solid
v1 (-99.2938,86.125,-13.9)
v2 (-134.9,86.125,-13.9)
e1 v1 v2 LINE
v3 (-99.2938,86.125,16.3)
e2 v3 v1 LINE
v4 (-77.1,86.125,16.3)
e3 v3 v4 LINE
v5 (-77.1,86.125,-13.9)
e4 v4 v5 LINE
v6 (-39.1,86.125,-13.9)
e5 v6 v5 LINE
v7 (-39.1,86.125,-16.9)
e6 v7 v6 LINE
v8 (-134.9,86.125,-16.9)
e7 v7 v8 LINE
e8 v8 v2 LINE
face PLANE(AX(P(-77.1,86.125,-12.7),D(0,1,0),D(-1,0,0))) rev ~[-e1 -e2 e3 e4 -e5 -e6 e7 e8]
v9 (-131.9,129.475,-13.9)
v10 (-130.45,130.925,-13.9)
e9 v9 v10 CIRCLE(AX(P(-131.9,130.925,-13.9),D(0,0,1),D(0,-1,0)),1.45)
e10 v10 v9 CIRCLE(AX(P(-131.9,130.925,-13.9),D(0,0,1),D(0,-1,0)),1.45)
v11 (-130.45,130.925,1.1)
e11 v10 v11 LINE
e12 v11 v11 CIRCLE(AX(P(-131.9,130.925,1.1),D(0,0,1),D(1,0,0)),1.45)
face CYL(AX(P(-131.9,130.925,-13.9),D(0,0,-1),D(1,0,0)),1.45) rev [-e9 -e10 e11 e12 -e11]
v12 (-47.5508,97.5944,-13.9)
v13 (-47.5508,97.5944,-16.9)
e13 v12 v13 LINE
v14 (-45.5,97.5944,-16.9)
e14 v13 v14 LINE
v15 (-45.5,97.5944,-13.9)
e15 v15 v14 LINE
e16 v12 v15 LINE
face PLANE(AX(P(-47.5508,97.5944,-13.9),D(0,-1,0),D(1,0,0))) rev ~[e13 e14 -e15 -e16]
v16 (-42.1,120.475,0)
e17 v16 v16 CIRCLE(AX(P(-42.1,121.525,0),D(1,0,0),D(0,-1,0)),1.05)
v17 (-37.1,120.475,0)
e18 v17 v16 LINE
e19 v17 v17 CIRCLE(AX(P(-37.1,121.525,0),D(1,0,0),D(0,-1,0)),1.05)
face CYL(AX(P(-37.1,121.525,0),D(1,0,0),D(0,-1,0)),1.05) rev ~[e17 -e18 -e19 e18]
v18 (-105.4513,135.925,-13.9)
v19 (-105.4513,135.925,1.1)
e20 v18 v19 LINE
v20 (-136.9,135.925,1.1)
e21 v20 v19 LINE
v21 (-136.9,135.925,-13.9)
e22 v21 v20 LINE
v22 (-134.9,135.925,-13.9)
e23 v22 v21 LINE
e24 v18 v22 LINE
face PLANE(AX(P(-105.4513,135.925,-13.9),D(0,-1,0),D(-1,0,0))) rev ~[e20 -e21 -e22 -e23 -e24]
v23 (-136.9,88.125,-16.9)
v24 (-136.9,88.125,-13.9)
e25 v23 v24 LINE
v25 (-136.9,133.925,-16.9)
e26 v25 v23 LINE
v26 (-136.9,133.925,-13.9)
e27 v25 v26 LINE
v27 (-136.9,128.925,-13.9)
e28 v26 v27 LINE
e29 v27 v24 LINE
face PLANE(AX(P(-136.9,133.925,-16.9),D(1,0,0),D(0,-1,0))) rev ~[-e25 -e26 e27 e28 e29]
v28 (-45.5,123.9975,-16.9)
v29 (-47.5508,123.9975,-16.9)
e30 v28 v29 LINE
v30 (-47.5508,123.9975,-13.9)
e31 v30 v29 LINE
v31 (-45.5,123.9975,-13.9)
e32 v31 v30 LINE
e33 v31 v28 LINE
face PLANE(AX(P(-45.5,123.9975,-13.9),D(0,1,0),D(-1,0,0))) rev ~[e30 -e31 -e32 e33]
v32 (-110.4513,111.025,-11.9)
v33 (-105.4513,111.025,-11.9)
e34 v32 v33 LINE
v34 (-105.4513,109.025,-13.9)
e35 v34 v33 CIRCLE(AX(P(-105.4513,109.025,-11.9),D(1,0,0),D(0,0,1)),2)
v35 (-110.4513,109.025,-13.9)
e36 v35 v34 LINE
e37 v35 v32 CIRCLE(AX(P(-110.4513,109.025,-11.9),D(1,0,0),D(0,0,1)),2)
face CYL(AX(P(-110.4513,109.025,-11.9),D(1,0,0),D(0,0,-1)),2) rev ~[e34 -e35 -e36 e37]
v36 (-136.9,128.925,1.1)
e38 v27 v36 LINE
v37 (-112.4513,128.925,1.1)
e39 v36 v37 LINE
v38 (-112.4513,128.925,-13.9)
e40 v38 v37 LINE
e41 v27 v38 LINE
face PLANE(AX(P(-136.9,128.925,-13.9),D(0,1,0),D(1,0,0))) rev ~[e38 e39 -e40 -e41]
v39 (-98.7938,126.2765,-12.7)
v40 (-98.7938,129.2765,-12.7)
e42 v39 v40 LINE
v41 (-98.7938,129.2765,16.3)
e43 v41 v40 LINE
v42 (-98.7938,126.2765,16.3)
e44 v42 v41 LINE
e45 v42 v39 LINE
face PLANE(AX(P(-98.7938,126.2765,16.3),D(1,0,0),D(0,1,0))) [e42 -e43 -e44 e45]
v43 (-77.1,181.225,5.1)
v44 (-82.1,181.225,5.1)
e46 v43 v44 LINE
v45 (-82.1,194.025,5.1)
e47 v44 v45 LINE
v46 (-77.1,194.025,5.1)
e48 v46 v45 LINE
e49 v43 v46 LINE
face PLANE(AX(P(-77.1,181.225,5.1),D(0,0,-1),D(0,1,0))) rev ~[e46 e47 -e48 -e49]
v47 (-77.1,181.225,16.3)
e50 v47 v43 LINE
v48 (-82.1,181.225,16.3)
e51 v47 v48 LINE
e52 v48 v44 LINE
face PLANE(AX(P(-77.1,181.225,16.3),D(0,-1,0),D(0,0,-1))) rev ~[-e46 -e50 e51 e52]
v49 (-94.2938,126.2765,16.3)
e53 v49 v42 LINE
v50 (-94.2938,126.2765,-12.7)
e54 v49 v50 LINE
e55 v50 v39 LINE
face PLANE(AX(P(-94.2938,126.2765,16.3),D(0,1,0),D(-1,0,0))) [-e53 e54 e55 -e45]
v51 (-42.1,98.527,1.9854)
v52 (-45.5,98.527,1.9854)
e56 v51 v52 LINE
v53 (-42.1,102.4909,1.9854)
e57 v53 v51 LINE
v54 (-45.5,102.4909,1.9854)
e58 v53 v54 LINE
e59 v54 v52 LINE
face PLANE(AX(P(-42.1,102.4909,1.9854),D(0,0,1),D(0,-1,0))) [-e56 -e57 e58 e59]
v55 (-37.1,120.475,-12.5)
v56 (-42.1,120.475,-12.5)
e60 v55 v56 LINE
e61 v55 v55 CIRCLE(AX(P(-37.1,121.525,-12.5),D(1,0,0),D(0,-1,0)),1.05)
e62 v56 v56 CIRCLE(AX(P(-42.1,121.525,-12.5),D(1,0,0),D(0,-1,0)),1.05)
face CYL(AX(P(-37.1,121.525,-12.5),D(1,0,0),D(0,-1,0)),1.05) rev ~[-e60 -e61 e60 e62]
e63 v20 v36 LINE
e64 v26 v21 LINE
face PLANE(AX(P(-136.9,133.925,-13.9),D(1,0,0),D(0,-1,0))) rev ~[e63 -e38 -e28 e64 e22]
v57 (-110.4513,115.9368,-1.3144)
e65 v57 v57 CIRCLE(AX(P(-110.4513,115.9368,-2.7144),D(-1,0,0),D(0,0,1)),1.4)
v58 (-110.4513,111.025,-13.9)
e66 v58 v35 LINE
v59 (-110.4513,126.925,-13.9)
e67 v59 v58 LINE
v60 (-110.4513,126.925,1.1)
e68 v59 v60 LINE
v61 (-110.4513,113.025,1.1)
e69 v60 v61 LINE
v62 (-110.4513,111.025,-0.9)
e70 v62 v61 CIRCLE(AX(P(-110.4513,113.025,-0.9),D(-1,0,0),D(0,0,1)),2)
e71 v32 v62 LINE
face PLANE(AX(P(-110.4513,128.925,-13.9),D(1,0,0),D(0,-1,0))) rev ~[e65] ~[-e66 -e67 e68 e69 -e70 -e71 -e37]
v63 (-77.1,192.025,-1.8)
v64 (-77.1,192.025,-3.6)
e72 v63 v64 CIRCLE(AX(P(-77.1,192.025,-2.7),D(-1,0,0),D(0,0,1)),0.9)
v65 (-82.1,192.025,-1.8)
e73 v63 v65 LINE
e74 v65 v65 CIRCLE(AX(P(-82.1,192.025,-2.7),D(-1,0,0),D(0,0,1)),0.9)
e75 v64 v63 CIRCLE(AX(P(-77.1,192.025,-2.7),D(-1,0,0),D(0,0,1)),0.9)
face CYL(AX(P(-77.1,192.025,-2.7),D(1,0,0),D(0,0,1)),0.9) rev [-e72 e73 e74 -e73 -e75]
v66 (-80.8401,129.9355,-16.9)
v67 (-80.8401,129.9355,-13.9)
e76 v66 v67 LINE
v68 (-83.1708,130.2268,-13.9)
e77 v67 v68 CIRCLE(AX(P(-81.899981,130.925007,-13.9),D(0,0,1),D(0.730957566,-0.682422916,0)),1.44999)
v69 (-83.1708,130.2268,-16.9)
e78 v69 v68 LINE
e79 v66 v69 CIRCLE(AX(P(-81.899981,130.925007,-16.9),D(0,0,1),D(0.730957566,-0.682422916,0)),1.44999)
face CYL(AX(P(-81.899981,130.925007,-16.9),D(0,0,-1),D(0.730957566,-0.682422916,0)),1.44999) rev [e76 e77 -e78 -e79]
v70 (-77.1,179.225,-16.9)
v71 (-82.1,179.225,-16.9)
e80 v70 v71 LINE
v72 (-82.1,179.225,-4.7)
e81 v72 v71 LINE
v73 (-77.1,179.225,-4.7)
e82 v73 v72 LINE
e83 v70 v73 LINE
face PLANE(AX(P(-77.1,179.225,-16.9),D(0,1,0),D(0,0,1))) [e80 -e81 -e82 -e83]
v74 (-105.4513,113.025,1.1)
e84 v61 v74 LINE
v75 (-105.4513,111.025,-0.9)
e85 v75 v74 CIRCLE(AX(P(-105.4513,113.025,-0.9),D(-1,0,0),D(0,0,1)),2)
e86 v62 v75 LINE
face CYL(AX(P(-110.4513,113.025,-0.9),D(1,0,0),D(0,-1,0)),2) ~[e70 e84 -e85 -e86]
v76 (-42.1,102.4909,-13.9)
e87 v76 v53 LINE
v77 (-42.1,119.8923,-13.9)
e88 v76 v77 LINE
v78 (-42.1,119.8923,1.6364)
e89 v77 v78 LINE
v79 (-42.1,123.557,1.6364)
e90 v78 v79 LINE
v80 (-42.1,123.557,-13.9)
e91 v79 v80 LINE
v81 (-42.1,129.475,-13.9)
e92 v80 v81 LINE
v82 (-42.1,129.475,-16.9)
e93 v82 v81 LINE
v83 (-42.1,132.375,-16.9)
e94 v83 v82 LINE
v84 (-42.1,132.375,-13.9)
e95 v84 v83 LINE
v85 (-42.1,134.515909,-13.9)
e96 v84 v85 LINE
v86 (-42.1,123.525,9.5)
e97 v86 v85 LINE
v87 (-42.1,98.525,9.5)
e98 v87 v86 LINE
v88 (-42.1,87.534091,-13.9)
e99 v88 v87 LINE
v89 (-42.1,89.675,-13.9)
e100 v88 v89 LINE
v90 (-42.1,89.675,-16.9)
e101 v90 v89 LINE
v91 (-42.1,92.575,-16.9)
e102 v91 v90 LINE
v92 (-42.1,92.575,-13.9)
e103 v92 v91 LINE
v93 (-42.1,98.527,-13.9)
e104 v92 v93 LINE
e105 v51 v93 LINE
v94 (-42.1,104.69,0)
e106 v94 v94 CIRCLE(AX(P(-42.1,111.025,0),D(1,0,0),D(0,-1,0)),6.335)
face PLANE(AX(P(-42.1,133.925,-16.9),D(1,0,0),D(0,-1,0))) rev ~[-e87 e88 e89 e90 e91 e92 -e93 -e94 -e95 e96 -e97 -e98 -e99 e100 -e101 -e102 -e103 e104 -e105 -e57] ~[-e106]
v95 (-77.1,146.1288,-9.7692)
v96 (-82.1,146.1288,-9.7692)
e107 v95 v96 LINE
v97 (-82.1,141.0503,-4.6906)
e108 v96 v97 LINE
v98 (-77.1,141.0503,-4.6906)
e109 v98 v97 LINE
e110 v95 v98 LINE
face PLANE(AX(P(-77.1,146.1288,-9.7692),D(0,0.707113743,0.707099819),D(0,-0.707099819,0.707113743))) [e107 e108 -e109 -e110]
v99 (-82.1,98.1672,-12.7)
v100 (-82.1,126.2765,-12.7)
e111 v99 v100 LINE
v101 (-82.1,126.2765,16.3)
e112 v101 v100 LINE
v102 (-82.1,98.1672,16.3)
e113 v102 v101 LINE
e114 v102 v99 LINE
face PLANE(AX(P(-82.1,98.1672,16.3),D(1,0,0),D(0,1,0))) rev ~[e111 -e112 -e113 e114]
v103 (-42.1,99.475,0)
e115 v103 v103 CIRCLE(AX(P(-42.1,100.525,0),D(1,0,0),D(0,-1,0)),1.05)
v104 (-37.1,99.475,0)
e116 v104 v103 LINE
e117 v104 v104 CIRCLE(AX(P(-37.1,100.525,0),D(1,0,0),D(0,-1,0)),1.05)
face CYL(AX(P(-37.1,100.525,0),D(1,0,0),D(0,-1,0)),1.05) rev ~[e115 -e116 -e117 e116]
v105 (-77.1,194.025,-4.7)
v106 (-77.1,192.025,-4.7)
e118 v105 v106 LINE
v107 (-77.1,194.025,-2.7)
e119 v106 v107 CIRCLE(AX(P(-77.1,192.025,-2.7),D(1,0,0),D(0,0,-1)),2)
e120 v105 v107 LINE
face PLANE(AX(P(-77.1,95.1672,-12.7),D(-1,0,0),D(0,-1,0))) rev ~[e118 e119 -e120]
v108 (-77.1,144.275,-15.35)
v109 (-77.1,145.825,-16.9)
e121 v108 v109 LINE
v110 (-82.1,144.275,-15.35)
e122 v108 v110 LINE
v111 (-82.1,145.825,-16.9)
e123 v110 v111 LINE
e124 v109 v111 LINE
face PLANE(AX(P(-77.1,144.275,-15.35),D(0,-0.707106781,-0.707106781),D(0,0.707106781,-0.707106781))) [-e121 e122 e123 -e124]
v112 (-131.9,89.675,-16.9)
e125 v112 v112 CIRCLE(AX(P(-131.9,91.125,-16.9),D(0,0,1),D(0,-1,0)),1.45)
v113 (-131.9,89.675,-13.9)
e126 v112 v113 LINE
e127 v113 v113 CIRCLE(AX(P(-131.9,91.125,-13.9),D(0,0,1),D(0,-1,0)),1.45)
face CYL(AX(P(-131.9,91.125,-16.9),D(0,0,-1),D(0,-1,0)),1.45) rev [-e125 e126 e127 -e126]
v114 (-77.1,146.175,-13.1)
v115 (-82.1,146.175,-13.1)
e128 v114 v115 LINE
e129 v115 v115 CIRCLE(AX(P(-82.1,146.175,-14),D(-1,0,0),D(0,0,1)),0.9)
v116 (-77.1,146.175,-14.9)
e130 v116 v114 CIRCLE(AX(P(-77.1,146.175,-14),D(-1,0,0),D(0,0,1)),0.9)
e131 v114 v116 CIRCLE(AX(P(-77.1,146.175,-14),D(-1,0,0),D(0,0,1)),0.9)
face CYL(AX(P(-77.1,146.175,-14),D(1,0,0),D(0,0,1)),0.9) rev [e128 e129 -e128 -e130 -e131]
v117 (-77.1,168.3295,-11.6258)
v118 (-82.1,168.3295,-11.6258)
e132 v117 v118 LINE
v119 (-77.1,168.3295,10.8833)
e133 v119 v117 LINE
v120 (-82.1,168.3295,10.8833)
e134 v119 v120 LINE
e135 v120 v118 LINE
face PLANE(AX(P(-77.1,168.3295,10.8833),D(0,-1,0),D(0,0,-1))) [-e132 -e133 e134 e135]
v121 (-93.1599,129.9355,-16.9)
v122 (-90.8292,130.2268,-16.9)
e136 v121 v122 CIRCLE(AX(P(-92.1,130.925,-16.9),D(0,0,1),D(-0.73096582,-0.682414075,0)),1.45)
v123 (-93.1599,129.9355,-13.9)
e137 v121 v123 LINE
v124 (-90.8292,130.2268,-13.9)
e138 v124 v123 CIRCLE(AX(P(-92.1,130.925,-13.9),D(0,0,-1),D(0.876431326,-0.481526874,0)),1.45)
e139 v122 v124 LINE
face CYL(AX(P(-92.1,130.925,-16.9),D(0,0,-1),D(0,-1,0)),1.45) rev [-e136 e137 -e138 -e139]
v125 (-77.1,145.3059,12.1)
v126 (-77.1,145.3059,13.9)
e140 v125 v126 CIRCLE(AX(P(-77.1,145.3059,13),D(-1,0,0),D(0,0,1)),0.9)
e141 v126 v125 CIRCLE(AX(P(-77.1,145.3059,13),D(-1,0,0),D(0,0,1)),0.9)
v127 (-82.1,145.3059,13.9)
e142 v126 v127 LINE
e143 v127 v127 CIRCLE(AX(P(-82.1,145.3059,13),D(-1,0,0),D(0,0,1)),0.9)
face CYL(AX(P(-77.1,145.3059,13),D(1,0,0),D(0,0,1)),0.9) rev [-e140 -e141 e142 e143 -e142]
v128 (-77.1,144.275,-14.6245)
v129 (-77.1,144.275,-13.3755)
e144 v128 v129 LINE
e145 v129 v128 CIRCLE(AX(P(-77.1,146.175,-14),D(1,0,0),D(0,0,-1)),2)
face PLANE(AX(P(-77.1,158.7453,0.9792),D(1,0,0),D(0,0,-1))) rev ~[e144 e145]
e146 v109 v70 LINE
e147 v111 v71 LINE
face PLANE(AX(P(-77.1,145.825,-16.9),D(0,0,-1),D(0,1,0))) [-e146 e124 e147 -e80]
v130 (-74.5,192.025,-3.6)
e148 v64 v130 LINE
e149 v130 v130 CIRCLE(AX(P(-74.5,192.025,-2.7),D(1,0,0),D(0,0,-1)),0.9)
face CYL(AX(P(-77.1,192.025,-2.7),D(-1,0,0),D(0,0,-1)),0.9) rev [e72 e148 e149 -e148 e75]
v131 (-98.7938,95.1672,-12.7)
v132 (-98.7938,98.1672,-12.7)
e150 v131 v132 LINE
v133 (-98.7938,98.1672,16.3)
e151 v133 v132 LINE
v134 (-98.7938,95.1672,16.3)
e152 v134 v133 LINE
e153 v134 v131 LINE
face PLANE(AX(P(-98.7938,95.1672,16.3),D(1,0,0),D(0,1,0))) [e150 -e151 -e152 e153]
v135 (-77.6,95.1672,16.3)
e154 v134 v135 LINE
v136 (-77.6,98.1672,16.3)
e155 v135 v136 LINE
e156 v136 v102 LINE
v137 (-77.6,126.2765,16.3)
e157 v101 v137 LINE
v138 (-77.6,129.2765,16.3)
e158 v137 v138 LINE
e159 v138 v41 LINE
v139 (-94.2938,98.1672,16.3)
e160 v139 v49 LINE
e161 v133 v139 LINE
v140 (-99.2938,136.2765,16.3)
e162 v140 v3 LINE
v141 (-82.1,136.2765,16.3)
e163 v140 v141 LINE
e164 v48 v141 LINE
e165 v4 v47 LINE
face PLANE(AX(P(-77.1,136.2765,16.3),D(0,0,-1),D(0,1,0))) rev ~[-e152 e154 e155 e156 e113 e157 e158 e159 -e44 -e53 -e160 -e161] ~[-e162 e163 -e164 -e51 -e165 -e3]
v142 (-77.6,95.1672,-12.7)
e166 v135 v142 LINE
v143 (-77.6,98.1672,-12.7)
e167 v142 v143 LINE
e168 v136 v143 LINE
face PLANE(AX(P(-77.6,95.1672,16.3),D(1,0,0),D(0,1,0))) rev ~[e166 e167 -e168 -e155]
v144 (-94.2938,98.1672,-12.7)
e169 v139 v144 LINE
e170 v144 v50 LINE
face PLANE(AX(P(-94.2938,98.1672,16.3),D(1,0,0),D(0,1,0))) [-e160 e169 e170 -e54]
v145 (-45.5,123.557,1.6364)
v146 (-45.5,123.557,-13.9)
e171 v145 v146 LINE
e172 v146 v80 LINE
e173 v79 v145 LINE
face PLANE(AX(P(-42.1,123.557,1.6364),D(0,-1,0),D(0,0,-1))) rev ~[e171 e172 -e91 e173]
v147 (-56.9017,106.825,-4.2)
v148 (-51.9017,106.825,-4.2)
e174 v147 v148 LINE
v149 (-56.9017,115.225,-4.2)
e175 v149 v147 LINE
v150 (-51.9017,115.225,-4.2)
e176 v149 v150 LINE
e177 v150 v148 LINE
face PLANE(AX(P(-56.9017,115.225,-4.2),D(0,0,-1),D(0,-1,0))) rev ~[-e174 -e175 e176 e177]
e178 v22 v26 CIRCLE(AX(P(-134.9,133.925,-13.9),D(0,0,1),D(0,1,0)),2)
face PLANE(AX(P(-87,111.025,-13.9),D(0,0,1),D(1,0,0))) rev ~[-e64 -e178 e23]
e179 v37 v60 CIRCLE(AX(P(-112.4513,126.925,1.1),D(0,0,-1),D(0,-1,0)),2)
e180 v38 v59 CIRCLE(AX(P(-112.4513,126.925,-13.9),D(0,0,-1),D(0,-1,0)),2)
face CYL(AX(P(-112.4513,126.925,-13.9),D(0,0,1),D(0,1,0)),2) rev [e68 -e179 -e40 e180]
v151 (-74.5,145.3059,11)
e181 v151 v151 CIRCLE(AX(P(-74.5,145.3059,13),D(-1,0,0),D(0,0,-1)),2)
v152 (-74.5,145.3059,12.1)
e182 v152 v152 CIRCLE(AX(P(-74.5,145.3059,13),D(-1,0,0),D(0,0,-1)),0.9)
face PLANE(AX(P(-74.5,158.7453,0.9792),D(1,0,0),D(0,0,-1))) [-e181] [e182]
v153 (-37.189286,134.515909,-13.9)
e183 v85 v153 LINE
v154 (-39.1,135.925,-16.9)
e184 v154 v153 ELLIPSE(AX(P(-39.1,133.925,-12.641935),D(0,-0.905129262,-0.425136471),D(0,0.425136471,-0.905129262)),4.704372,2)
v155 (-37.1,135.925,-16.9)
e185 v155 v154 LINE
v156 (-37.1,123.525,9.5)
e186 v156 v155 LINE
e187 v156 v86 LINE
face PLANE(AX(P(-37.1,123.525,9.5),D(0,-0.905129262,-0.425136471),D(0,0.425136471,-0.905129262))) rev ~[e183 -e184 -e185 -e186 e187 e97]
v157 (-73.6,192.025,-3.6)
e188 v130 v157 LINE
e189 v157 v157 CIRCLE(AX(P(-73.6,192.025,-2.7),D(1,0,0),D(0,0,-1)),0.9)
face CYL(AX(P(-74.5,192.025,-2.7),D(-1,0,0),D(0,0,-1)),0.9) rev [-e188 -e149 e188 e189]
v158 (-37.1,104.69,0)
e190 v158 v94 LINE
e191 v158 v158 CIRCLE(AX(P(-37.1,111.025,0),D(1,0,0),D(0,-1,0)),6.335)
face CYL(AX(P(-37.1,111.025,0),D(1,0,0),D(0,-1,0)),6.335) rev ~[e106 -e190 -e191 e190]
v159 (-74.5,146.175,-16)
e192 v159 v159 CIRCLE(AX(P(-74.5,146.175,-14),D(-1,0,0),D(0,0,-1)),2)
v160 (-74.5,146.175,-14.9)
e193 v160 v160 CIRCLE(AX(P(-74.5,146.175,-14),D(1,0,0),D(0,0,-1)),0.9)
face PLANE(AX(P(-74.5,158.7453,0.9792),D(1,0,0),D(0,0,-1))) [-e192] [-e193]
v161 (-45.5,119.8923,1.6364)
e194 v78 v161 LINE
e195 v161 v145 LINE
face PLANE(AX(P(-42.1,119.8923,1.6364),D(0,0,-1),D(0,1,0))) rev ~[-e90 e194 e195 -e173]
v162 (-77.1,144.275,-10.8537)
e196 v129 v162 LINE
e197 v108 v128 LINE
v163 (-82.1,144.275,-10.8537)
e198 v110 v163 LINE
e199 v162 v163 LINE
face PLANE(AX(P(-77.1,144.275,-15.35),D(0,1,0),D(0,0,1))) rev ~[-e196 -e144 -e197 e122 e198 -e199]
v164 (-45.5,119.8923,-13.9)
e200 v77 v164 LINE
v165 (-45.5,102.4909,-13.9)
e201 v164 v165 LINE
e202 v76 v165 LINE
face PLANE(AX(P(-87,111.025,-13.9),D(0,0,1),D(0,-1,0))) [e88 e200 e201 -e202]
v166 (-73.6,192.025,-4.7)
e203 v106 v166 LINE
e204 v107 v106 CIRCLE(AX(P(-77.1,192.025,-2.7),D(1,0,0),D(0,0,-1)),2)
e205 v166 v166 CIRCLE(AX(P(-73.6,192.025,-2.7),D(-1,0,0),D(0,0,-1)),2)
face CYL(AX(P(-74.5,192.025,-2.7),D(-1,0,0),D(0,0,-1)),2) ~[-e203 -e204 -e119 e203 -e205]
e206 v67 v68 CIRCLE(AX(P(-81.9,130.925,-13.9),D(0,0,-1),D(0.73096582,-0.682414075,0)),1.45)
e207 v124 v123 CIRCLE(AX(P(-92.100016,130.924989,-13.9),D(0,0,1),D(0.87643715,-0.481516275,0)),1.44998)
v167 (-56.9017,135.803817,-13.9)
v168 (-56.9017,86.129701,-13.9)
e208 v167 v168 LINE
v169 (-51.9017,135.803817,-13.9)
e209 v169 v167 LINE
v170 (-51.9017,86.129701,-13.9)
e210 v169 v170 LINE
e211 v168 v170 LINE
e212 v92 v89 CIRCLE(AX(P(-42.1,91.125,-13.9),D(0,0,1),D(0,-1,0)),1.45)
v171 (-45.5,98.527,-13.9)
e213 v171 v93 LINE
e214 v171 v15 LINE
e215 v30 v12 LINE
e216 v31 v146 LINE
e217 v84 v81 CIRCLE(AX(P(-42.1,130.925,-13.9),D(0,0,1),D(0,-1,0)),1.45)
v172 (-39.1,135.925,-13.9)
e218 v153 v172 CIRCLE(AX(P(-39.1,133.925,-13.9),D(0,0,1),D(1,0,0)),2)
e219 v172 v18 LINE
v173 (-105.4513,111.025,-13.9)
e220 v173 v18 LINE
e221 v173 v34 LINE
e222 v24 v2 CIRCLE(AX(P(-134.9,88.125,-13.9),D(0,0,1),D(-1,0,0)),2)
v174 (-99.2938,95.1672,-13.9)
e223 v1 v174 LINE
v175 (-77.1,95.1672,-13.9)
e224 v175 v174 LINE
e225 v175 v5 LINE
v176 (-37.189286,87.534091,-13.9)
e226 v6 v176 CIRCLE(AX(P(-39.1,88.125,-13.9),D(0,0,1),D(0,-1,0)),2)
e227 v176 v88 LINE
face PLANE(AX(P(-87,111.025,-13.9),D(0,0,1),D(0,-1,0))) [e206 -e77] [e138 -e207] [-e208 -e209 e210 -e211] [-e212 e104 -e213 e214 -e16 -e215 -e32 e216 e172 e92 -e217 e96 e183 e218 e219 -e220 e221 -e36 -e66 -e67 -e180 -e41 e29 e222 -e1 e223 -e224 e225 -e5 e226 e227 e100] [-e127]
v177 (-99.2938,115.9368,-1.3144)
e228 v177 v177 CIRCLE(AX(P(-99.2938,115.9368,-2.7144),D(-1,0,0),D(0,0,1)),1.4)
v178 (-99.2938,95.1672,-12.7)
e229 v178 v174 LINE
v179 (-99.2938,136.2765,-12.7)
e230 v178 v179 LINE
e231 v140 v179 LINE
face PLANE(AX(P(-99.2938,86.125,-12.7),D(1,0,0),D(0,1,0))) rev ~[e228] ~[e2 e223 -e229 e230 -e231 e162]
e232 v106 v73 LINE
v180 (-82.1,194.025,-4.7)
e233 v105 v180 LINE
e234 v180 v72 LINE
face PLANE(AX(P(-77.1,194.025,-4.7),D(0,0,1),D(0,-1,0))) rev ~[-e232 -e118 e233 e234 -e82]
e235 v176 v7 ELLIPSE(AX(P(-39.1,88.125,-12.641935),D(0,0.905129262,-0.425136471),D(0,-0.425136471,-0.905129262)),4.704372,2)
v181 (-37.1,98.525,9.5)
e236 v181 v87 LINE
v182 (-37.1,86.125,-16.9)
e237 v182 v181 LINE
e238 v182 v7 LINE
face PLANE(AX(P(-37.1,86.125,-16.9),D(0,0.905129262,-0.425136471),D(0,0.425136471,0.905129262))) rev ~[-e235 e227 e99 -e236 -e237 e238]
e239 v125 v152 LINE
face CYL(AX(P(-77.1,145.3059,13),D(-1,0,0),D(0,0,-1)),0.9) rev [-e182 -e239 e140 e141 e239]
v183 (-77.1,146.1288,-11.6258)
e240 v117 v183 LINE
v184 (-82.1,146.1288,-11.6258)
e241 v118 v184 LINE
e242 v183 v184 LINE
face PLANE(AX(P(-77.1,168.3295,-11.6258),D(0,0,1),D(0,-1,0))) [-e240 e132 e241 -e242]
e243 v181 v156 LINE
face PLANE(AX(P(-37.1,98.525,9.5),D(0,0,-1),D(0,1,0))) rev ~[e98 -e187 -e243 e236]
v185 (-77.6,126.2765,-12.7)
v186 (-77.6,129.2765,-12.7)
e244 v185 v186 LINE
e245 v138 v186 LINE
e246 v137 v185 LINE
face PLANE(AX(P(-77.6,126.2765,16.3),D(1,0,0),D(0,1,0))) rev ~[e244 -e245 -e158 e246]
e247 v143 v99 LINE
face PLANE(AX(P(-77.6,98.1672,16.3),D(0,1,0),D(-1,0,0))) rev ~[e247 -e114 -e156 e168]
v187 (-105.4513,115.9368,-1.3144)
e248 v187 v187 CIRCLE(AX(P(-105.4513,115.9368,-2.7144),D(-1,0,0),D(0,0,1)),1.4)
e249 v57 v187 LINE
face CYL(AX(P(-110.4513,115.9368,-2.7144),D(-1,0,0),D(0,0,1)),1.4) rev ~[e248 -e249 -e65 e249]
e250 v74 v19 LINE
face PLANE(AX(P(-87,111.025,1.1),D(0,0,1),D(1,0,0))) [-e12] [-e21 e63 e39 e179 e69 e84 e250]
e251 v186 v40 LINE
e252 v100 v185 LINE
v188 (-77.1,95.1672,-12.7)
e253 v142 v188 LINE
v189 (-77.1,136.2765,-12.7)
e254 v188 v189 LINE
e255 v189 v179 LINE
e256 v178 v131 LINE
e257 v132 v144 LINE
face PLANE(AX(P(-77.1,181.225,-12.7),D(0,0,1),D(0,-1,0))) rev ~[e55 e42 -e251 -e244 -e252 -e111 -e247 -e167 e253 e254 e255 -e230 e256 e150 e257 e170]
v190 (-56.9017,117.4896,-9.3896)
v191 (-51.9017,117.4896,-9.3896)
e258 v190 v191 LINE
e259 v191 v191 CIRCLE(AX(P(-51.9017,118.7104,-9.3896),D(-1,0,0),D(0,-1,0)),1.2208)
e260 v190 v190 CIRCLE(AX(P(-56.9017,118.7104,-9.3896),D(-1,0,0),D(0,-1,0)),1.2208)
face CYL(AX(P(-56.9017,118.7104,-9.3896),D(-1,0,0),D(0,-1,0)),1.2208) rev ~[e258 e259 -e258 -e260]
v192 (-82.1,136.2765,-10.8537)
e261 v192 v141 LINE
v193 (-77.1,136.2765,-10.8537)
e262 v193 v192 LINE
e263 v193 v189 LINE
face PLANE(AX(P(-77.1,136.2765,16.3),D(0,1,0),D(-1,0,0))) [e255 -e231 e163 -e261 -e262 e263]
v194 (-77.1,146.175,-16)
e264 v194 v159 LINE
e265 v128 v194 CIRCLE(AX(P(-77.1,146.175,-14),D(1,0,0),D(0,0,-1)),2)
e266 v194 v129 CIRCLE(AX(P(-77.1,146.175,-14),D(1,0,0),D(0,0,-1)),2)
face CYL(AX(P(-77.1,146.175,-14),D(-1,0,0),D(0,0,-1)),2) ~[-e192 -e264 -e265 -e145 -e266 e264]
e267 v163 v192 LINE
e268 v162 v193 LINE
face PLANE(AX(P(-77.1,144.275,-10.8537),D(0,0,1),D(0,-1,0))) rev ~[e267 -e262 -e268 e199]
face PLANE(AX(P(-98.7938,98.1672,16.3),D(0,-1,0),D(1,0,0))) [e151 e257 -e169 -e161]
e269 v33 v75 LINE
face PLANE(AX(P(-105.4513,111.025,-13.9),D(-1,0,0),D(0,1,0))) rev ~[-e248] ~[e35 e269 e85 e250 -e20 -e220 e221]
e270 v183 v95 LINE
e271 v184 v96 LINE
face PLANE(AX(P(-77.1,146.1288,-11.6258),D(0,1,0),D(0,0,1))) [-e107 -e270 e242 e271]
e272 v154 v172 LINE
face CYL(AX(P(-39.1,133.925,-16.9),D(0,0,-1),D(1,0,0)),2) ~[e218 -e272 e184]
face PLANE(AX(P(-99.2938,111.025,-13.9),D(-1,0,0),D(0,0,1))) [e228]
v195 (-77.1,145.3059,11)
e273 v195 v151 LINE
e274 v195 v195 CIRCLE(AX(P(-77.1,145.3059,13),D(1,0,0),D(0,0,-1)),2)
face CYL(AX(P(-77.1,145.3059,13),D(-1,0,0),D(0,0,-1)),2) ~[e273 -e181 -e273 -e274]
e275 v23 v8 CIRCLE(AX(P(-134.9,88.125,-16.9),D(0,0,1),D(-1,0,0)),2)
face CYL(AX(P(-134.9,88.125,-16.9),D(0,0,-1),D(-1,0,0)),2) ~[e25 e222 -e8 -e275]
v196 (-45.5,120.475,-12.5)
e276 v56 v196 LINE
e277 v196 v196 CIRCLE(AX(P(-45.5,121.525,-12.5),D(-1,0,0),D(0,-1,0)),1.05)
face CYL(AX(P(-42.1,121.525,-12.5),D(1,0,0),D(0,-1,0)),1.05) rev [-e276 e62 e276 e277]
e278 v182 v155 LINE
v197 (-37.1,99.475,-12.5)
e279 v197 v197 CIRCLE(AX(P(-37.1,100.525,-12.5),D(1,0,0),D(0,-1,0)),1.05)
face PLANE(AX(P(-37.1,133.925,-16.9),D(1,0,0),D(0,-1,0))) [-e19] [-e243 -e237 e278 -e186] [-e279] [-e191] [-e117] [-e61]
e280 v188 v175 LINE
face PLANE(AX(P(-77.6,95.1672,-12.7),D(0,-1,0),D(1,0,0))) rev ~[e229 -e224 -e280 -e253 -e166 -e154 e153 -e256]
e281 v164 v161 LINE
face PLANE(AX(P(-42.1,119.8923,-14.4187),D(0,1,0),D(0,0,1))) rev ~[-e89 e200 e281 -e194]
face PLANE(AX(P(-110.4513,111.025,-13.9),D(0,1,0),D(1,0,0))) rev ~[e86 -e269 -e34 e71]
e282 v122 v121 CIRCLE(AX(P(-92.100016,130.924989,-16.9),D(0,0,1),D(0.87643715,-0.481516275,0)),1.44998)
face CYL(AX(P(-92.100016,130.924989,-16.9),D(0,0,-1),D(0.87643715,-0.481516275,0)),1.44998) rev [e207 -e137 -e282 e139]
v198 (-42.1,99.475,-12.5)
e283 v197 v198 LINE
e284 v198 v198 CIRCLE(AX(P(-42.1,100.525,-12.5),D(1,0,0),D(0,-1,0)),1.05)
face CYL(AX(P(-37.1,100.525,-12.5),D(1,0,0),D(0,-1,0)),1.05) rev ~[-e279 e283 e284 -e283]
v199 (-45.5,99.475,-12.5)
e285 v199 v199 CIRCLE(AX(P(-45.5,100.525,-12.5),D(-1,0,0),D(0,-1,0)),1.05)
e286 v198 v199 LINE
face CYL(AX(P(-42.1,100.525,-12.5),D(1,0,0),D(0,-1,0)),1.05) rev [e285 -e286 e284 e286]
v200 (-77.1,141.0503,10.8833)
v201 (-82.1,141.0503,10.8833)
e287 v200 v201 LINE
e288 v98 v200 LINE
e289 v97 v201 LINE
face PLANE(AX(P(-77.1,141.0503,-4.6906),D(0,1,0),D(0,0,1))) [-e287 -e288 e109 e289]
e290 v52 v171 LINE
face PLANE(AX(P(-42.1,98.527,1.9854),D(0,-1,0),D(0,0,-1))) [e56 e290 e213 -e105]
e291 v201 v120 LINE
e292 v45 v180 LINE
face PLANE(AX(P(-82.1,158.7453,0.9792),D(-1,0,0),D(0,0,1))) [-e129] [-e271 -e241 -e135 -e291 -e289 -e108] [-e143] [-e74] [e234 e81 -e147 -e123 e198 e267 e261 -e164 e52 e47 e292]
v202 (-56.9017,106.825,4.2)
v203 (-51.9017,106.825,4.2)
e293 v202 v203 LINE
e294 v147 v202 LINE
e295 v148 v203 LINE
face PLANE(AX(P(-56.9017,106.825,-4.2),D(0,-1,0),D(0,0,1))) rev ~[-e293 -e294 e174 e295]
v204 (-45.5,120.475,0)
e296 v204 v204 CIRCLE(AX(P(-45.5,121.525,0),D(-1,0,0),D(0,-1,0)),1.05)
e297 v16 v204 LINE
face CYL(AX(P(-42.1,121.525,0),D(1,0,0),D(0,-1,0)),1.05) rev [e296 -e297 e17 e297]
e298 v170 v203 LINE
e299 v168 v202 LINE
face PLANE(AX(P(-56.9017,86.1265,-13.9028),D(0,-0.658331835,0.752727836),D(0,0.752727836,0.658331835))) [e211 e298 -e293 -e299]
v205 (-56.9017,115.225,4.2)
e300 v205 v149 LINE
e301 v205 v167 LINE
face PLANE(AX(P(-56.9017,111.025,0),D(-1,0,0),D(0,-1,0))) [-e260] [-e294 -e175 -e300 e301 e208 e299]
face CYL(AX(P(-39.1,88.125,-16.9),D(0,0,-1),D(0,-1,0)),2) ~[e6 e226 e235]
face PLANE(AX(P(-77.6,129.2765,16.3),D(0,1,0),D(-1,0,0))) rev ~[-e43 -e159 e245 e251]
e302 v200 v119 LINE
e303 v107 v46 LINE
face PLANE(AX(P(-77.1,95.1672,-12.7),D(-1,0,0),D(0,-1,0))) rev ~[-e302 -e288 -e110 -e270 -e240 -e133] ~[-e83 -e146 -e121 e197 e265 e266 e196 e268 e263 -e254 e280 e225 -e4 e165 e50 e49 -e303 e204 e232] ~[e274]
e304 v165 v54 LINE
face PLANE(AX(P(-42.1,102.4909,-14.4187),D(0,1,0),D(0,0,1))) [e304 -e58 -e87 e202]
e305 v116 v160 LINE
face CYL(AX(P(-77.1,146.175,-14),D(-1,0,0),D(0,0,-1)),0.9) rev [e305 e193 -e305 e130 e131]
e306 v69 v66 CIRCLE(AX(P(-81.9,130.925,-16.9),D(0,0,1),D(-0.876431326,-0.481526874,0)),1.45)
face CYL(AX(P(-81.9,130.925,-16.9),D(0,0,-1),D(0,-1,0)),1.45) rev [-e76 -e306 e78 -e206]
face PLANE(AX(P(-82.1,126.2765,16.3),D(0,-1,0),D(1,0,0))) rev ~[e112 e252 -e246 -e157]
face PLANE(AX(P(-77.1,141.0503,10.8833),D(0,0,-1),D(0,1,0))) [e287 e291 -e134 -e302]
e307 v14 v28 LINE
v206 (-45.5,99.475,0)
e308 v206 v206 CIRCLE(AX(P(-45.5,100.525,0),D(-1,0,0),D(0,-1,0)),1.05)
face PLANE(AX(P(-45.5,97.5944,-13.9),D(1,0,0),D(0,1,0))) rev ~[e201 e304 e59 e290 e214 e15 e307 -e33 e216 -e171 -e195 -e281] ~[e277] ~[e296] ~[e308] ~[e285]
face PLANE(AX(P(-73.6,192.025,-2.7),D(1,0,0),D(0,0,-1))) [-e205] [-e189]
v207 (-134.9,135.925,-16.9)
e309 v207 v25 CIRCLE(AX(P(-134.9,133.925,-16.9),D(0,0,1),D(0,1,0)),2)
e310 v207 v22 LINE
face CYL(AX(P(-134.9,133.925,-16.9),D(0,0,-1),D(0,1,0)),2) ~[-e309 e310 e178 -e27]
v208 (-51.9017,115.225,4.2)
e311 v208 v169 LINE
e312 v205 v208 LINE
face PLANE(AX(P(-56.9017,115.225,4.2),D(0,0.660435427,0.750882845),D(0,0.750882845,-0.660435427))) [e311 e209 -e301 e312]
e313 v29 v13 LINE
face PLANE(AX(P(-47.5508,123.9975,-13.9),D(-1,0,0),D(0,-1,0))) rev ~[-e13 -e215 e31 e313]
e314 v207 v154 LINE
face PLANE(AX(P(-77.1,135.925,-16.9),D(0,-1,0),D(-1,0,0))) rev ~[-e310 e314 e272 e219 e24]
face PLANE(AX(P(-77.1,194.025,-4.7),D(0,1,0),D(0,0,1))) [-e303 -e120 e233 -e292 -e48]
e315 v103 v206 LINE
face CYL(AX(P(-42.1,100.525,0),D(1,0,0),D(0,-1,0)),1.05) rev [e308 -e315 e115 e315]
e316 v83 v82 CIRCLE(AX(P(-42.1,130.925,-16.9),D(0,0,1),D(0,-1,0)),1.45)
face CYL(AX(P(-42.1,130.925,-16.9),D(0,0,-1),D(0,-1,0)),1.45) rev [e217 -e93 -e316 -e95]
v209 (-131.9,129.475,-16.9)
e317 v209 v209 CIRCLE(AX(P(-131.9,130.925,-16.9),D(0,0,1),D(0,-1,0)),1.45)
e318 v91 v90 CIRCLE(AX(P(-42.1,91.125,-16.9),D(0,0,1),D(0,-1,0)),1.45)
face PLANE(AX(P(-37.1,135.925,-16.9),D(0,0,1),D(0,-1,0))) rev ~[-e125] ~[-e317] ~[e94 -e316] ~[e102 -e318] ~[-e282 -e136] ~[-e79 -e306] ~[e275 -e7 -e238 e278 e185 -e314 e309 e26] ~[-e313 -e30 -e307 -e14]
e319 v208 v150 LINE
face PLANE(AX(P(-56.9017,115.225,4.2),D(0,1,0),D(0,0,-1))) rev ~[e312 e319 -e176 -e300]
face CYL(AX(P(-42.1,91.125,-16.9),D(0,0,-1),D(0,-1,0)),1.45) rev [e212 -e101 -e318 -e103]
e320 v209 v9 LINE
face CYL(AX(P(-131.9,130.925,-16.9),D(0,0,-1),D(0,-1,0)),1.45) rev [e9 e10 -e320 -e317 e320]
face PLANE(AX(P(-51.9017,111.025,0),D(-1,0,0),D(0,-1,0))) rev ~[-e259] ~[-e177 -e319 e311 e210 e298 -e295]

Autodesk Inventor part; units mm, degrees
ref_plane "Work Plane1" through (-87, 111.025, -16.9) normal (0, 0, 1) x (0, -1, 0)
ref_plane "Work Plane2" through (-77.1, 158.7453, 0.9792) normal (-1, 0, 0) x (0, 0, 1)
sketch "Sketch2" plane through (-77.1, 158.7453, 0.9792) normal (-1, 0, 0) x (0, 0, 1)
  circle A0 centre (-3.6792, 33.2797) radius 0.9 projected
  circle A1 centre (12.0208, -13.4394) radius 0.9 projected
  circle A2 centre (-14.9792, -12.5703) radius 0.9 projected
  line L0 (4.6208, 1.0297) -> (4.6208, 8.2797) projected
  line L1 (-4.8792, 8.2797) -> (-4.8792, 1.0297) projected
  line L2 (-4.8792, 1.0297) -> (4.6208, 1.0297) projected
  line L3 (4.6208, 8.2797) -> (-4.8792, 8.2797) projected
  line L4 (15.3208, -8.9703) -> (15.3208, 6.4797) projected
  line L5 (-5.6792, 35.2797) -> (3.4208, 35.2797) projected
  line L6 (20.1208, 22.4797) -> (4.1208, 22.4797) projected
  line L7 (-22.6852, 20.4797) -> (-8.6792, 20.4797) projected
  line L8 (15.3208, 6.4797) -> (15.3208, 22.4797)
  line L9 (15.3208, 22.4797) -> (4.1208, 22.4797)
  line L10 (4.1208, 22.4797) -> (4.1208, 35.2797)
  line L11 (4.1208, 35.2797) -> (-5.6792, 35.2797)
  line L12 (-16.3292, -14.4703) -> (-17.9792, -12.8203) projected
  line L13 (-16.3292, -14.4703) -> (-11.8329, -14.4703)
  line L14 (-11.8329, -14.4703) -> (-11.8329, -22.4688)
  line L15 (-11.8329, -22.4688) -> (15.3208, -22.4688)
  line L16 (15.3208, -22.4688) -> (15.3208, 6.4797)
  line L17 (9.9041, -17.695) -> (9.9041, 9.5842)
  line L18 (9.9041, 9.5842) -> (-12.605, 9.5842)
  line L19 (-12.605, 9.5842) -> (-12.605, -12.6165)
  line L20 (-12.605, -12.6165) -> (-10.7484, -12.6165)
  line L21 (-10.7484, -12.6165) -> (-5.6698, -17.695)
  line L22 (-5.6698, -17.695) -> (9.9041, -17.695)
  line L23 (-16.3292, -14.4703) -> (-17.8792, -12.9203)
  line L24 (-5.6792, 35.2797) -> (-5.6792, 20.4797)
  line L25 (-5.6792, 20.4797) -> (-17.8792, 20.4797)
  line L26 (-17.8792, -12.9203) -> (-17.8792, 20.4797)
  point P0 (-0.9792, -158.7453)
extrude "Extrusion1" add sketch "Sketch2" along normal blind 5 contours L16 L15 L14 L13 L12 L26 L7 L25 L24 L5 L11 L10 L6 L8 L4
sketch "Sketch3" plane through (-77.1, 158.7453, 0.9792) normal (1, 0, 0) x (0, -1, 0)
  circle A0 centre (-33.2797, 3.6792) radius 0.9 projected
  circle A1 centre (12.5703, 14.9792) radius 0.9 projected
  circle A2 centre (13.4394, -12.0208) radius 0.9 projected
  circle A3 centre (-33.2797, 3.6792) radius 2
  line L0 (-35.2797, -4.1208) -> (-35.2797, 5.6792) projected
  line L1 (14.4703, 16.3292) -> (14.4703, 11.8329) projected
  circle A4 centre (13.4394, -12.0208) radius 0.9 projected
  circle A5 centre (13.4394, -12.0208) radius 2
  circle A6 centre (12.5703, 14.9792) radius 1.9509
  point P0 (158.7453, 0.9792)
  dimension "d2" = 4
ref_plane "Work Plane6" through (-30.75, 17.2, 24.2) normal (0, -1, 0) x (1, 0, 0)
ref_plane "Work Plane8" through (-30.75, 12.2, 24.2) normal (0, -1, 0) x (1, 0, 0)
ref_plane "Work Plane3" through (-75, 13.4, 4.2) normal (0, -1, 0) x (1, 0, 0)
ref_plane "Work Plane7" through (-75, 18.4, 4.2) normal (0, -1, 0) x (1, 0, 0)
ref_plane "Work Plane9" through (-75, 13.4, 4.2) normal (0, -1, 0) x (1, 0, 0)
ref_plane "Work Plane4" through (-87, 111.025, -16.9) normal (0, 0, 1) x (0, -1, 0)
sketch "Sketch5" plane through (-87, 111.025, -16.9) normal (0, 0, 1) x (0, -1, 0)
  line L0 (-16.9, -46.4) -> (-16.9, -41.9) projected
  line L1 (-16.9, -41.9) -> (-21.4, -41.9) projected
  line L2 (-21.4, 41.9) -> (-21.4, -41.9) projected
  line L3 (-21.4, 41.9) -> (-16.9, 41.9) projected
  line L4 (-16.9, 41.9) -> (-16.9, 46.4) projected
  line L5 (-16.9, 46.4) -> (16.9, 46.4) projected
  line L6 (16.9, 46.4) -> (16.9, 41.9) projected
  line L7 (16.9, 41.9) -> (21.4, 41.9) projected
  line L8 (21.4, -41.9) -> (21.4, 41.9) projected
  line L9 (21.4, -41.9) -> (16.9, -41.9) projected
  line L10 (16.9, -41.9) -> (16.9, -46.4) projected
  line L11 (16.9, -46.4) -> (-16.9, -46.4) projected
  circle A0 centre (-19.9, 44.9) radius 1.45 projected
  circle A1 centre (-19.9, -44.9) radius 1.45 projected
  circle A2 centre (19.9, -44.9) radius 1.45 projected
  circle A3 centre (19.9, 44.9) radius 1.45 projected
  line L12 (-24.9, 47.9) -> (-24.9, -47.9) projected
  arc A4 (-24.9, -47.9) -> (-22.9, -49.9) centre (-22.9, -47.9) ccw projected
  line L13 (-22.9, -49.9) -> (22.9, -49.9) projected
  arc A5 (22.9, -49.9) -> (24.9, -47.9) centre (22.9, -47.9) ccw projected
  line L14 (24.9, -47.9) -> (24.9, 47.9) projected
  arc A6 (24.9, 47.9) -> (22.9, 49.9) centre (22.9, 47.9) ccw projected
  line L15 (22.9, 49.9) -> (-22.9, 49.9) projected
  arc A7 (-22.9, 49.9) -> (-24.9, 47.9) centre (-22.9, 47.9) ccw projected
  line L16 (-25.2515, 9.9) -> (-70.2, 9.9) projected
  line L17 (-24.9, 9.9) -> (24.9, 9.9)
  arc A8 (-19.2018, -3.8292) -> (-18.9105, -6.1599) centre (-19.9, -5.1) ccw
  arc A9 (-18.9105, 6.1599) -> (-19.2018, 3.8292) centre (-19.9, 5.1) ccw
  arc A10 (18.9105, -6.1599) -> (19.2018, -3.8292) centre (19.9, -5.1) ccw
  arc A11 (19.2018, 3.8292) -> (18.9105, 6.1599) centre (19.9, 5.1) ccw
  circle A12 centre (-19.9, -5.1) radius 1.45
  circle A13 centre (-19.9, 5.1) radius 1.45
  circle A14 centre (19.9, 5.1) radius 1.45
  circle A15 centre (19.9, -5.1) radius 1.45
  point P0 (111.025, 87)
  point P1 (-21.4, 9.9)
  point P2 (21.4, 9.9)
ref_plane "Work Plane5" through (-136.9, 88.125, -16.9) normal (-1, 0, 0) x (0, 1, 0)
sketch "Sketch6" plane through (-136.9, 88.125, -16.9) normal (-1, 0, 0) x (0, 1, 0)
  line L0 (47.8, 0) -> (47.8, 6) projected
  line L1 (-2, 0) -> (-2, 6) projected
  line L2 (42.8, 8) -> (3, 8) projected
  circle A0 centre (22.9, -16.9) radius 24.9
  point P0 (-88.125, -16.9)
extrude "Extrusion4" add sketch "Sketch5" along normal blind 3
sketch "Sketch7" plane through (-77.1, 181.225, 16.3) normal (0, 0, 1) x (0, -1, 0)
  line L0 (44.9485, 0) -> (0, 0) projected
  line L1 (0, 0) -> (0, -5) projected
  line L2 (44.9485, -5) -> (0, -5) projected
  line L3 (44.9485, 0) -> (44.9485, -5) projected
  circle A0 centre (90.1, -54.8) radius 1.45 projected
  circle A1 centre (50.3, -54.8) radius 1.45 projected
  line L4 (45.3, 38) -> (45.3, -57.8) projected
  arc A2 (45.3, -57.8) -> (47.3, -59.8) centre (47.3, -57.8) ccw projected
  line L5 (47.3, -59.8) -> (93.1, -59.8) projected
  arc A3 (93.1, -59.8) -> (95.1, -57.8) centre (93.1, -57.8) ccw projected
  line L6 (95.1, -57.8) -> (95.1, 38) projected
  line L7 (54.9485, 0) -> (54.9485, -0.5)
  line L8 (45.3, 38) -> (45.3, -57.8) projected
  line L9 (45.3, -5) -> (44.9485, -5)
  line L10 (54.9485, -22.1938) -> (54.9485, -21.6938)
  line L11 (54.9485, 0) -> (83.0578, 0)
  line L12 (83.0578, 0) -> (83.0578, -5)
  line L13 (83.0578, -5) -> (54.9485, -5)
  line L14 (54.9485, -5) -> (54.9485, 0)
  line L15 (54.9485, -22.1938) -> (83.0578, -22.1938)
  line L16 (83.0578, -22.1938) -> (83.0578, -17.1938)
  line L17 (83.0578, -17.1938) -> (54.9485, -17.1938)
  line L18 (54.9485, -17.1938) -> (54.9485, -22.1938)
  line L19 (83.0578, -22.1938) -> (86.0578, -22.1938)
  line L20 (86.0578, -22.1938) -> (86.0578, -21.6938)
  line L21 (86.0578, -21.6938) -> (83.0578, -21.6938)
  line L22 (83.0578, -21.6938) -> (83.0578, -22.1938)
  line L23 (83.0578, 0) -> (86.0578, 0)
  line L24 (86.0578, 0) -> (86.0578, -0.5)
  line L25 (86.0578, -0.5) -> (83.0578, -0.5)
  line L26 (83.0578, -0.5) -> (83.0578, 0)
  line L27 (95.1, -57.8) -> (95.1, 38) projected
  line L28 (86.0578, 0) -> (95.1, 0)
  line L29 (95.1, 0) -> (95.1, -22.1938)
  line L30 (95.1, -22.1938) -> (86.0578, -22.1938)
  line L31 (86.0578, -22.1938) -> (86.0578, 0)
  arc A4 (95.1, 38) -> (93.1, 40) centre (93.1, 38) ccw projected
  line L32 (93.1, 40) -> (47.3, 40) projected
  arc A5 (47.3, 40) -> (45.3, 38) centre (47.3, 38) ccw projected
  line L33 (44.9485, 0) -> (51.9485, 0)
  line L34 (51.9485, 0) -> (51.9485, -22.1938)
  line L35 (51.9485, -22.1938) -> (44.9485, -22.1938)
  line L36 (44.9485, -22.1938) -> (44.9485, 0)
  line L37 (51.9485, 0) -> (54.9485, 0)
  line L38 (54.9485, 0) -> (54.9485, -0.5)
  line L39 (54.9485, -0.5) -> (51.9485, -0.5)
  line L40 (51.9485, -0.5) -> (51.9485, 0)
  line L41 (51.9485, -22.1938) -> (54.9485, -22.1938)
  line L42 (54.9485, -22.1938) -> (54.9485, -21.6938)
  line L43 (54.9485, -21.6938) -> (51.9485, -21.6938)
  line L44 (51.9485, -21.6938) -> (51.9485, -22.1938)
  point P0 (181.225, 77.1)
  point P1 (37.3, 0)
  dimension "d10" = 0.5
  dimension "d12" = 0.5
  dimension "d13" = 5
  dimension "d14" = 3
  dimension "d15" = 0.5
  dimension "d37" = 3
  dimension "d40" = 7
  dimension "d41" = 3
  dimension "d42" = 0.5
  dimension "d43" = 3
  dimension "d44" = 0.5
extrude "Extrusion5" add sketch "Sketch7" against normal blind 29 contours L33 L4 L9 L3 | L9 L4 L35 L36 | L33 L34 L35 L4 | L37 L7 L39 L34 | L11 L12 L13 L14 L7 | L34 L43 L10 L41 | L23 L24 L25 L12 | L10 L18 L17 L16 L15 | L28 L6 L30 L20 L31 L24 | L16 L21 L20 L19
sketch "Sketch8" plane through (-77.1, 181.225, -12.7) normal (0, 0, -1) x (0, 1, 0)
  line L0 (-95.1, 0) -> (-95.1, -22.1938) projected
  line L1 (-54.9485, -21.6938) -> (-54.9485, -17.1938) projected
  line L2 (-54.9485, -17.1938) -> (-83.0578, -17.1938) projected
  line L3 (-83.0578, -17.1938) -> (-83.0578, -21.6938) projected
  line L4 (-83.0578, -21.6938) -> (-86.0578, -21.6938) projected
  line L5 (-86.0578, -21.6938) -> (-86.0578, -0.5) projected
  line L6 (-86.0578, -0.5) -> (-83.0578, -0.5) projected
  line L7 (-83.0578, -0.5) -> (-83.0578, -5) projected
  line L8 (-83.0578, -5) -> (-54.9485, -5) projected
  line L9 (-54.9485, -5) -> (-54.9485, -0.5) projected
  line L10 (-44.9485, 0) -> (-95.1, 0) projected
  line L11 (-95.1, -22.1938) -> (-44.9485, -22.1938) projected
  line L12 (-44.9485, -22.1938) -> (-44.9485, 0) projected
  line L13 (-51.9485, -0.5) -> (-51.9485, -21.6938) projected
  line L14 (-51.9485, -21.6938) -> (-54.9485, -21.6938) projected
  line L15 (-54.9485, -0.5) -> (-51.9485, -0.5) projected
  line L16 (-95.1, -22.1938) -> (-86.0578, -22.1938)
  line L17 (-86.0578, -22.1938) -> (-86.0578, 0)
  line L18 (-86.0578, 0) -> (-95.1, 0)
  line L19 (-95.1, 0) -> (-95.1, -22.1938)
extrude "Extrusion6" add sketch "Sketch8" along normal up to surface (1.2 mm away) contours L10 L17 L5 L11 L0
sketch "Sketch9" plane through (-87, 111.025, -16.9) normal (0, 0, -1) x (0, 1, 0)
  circle A0 centre (-19.9, -5.1) radius 1.45 projected
  circle A1 centre (-19.9, 5.1) radius 1.45 projected
  point P0 (-111.025, 87)
extrude "Extrusion7" add sketch "Sketch9" against normal up to surface (33.2 mm away)
sketch "Sketch10" plane through (-37.1, 133.925, -16.9) normal (1, 0, 0) x (0, -1, 0)
  circle A0 centre (22.9, -16.9) radius 6.335 projected
  line L0 (35.4, -2.4) -> (35.4, -26.4) construction
  line L1 (35.4, -26.4) -> (10.4, -26.4) construction
  line L2 (10.4, -26.4) -> (10.4, -2.4) construction
  line L3 (10.4, -2.4) -> (35.4, -2.4) construction
  circle A1 centre (12.4, -4.4) radius 1.05 construction
  circle A2 centre (12.4, -16.9) radius 1.05 construction
  circle A3 centre (33.4, -16.9) radius 1.05 construction
  circle A4 centre (33.4, -4.4) radius 1.05 construction
  line L4 (17.4, -8) -> (14.4, -8) construction
  line L5 (17.4, -6) -> (17.4, -8) construction
  line L6 (14.4, -6) -> (17.4, -6) construction
  line L7 (14.4, -8) -> (14.4, -6) construction
  line L8 (47.8, 0) -> (47.8, 6) construction
  line L9 (-2, 0) -> (-2, 6) construction
  line L10 (47.8, 0) -> (35.4, -26.4)
  line L11 (35.4, -26.4) -> (10.4, -26.4)
  line L12 (10.4, -26.4) -> (-2, 0)
  line L13 (-2, 0) -> (47.8, 0)
  circle A5 centre (33.4, -4.4) radius 1.05 projected
  circle A6 centre (33.4, -16.9) radius 1.05 projected
  circle A7 centre (12.4, -4.4) radius 1.05 projected
  circle A8 centre (12.4, -16.9) radius 1.05 projected
  circle A9 centre (33.4, -4.4) radius 0.75
  circle A10 centre (33.4, -16.9) radius 0.75
  circle A11 centre (12.4, -4.4) radius 0.75
  circle A12 centre (12.4, -16.9) radius 0.75
  point P0 (133.925, -16.9)
  dimension "d45" = 1.5
  dimension "d46" = 1.5
  dimension "d47" = 1.5
  dimension "d48" = 1.5
extrude "Extrusion8" add sketch "Sketch10" against normal blind 5 contours L10 L11 L12 L13
sketch "Sketch15" plane through (-42.1, 133.925, -16.9) normal (-1, 0, 0) x (0, -1, 0)
  circle A0 centre (33.4, 4.4) radius 1.05 projected
  circle A1 centre (33.4, 16.9) radius 1.05 projected
  circle A2 centre (12.4, 4.4) radius 1.05 projected
  circle A3 centre (12.4, 16.9) radius 1.05 projected
  line L0 (35.398, 2.4813) -> (31.4341, 2.4813)
  line L1 (31.4341, 2.4813) -> (31.4341, 18.8854)
  line L2 (31.4341, 18.8854) -> (35.398, 18.8854)
  line L3 (35.398, 18.8854) -> (35.398, 2.4813)
  line L4 (10.368, 2.4813) -> (14.0327, 2.4813)
  line L5 (14.0327, 2.4813) -> (14.0327, 18.5364)
  line L6 (14.0327, 18.5364) -> (10.368, 18.5364)
  line L7 (10.368, 18.5364) -> (10.368, 2.4813)
  point P0 (133.925, 16.9)
ref_plane "Work Plane14" through (8, -4.95, -16.9) normal (0, 1, 0) x (-1, 0, 0)
ref_plane "Work Plane15" through (-4.5, 41.5, 2.4) normal (0, 1, 0) x (0, 0, 1)
ref_plane "Work Plane19" through (-45.5, 98.525, -14.5) normal (1, 0, 0) x (0, 1, 0)
extrude "Extrusion16" add sketch "Sketch15" along normal up to surface (3.4 mm away)
sketch "Sketch18" plane through (-87, 111.025, -13.9) normal (0, 0, 1) x (0, -1, 0)
  line L0 (12.5, 40.6) -> (-12.5, 40.6) projected
  line L1 (12.5, 40.6) -> (-12.5, 40.6) projected
  line L2 (12.5, 41.5) -> (12.5, 40.6) projected
  line L3 (12.5, 41.5) -> (10.4, 41.5) projected
  line L4 (10.4, 43.9) -> (10.4, 41.5) projected
  line L5 (-10.4, 43.9) -> (10.4, 43.9) projected
  line L6 (-10.4, 43.9) -> (-10.4, 41.5) projected
  line L7 (-10.4, 41.5) -> (-12.5, 41.5) projected
  line L8 (-12.5, 41.5) -> (-12.5, 40.6) projected
  line L9 (8, 42.7) -> (8, 43.1) projected
  line L10 (-8, 42.7) -> (8, 42.7) projected
  line L11 (-8, 43.1) -> (-8, 42.7) projected
  line L12 (8, 43.1) -> (-8, 43.1) projected
  line L13 (-12.9725, 39.4492) -> (13.4306, 39.4492)
  line L14 (13.4306, 39.4492) -> (13.4306, 41.5)
  line L15 (13.4306, 41.5) -> (-12.9725, 41.5)
  line L16 (-12.9725, 41.5) -> (-12.9725, 39.4492)
  point P0 (111.025, 87)
extrude "Extrusion17" cut sketch "Sketch18" against normal blind 10 contours L2 L15 L14 L13 L16 L8 L0 | L0 L8 L7 L15 L3 L2
ref_plane "Work Plane16" through (-56.9017, 111.025, 0) normal (-1, 0, 0) x (0, -1, 0)
sketch "Sketch19" plane through (-56.9017, 111.025, 0) normal (-1, 0, 0) x (0, -1, 0)
  line L0 (-4, 4) -> (-4, -4) projected
  line L1 (4, 4) -> (-4, 4) projected
  line L2 (4, -4) -> (4, 4) projected
  line L3 (3.85, -4.1) -> (-3.85, -4.1) projected
  line L4 (-4, -4) -> (4, -4) projected
  line L5 (-4.2, 4.2) -> (-4.2, -4.2)
  line L6 (-4.2, -4.2) -> (4.2, -4.2)
  line L7 (4.2, -4.2) -> (4.2, 4.2)
  line L8 (4.2, 4.2) -> (-4.2, 4.2)
  line L9 (-4.2, 4.2) -> (-24.782, -13.9028)
  line L10 (-24.782, -13.9028) -> (24.8985, -13.9028)
  line L11 (24.8985, -13.9028) -> (4.2, 4.2)
  circle A0 centre (-7.6854, -9.3896) radius 1.2208
  point P0 (111.025, 0)
  dimension "d60" = 0.2
ref_plane "Work Plane17" through (4.15, 35.0983, 12.8) normal (0, 1, 0) x (0, 0, 1)
ref_plane "Work Plane18" through (-51.9017, 107.175, -4.1) normal (1, 0, 0) x (0, 1, 0)
extrude "Extrusion18" add sketch "Sketch19" against normal up to surface (5 mm away) contours L5 L6 L7 L11 L10 L9
sketch "Sketch20" plane through (-77.1, 158.7453, 0.9792) normal (1, 0, 0) x (0, 0, -1)
  circle A0 centre (3.6792, 33.2797) radius 0.9 projected
  line L0 (9.9704, -2.9576) -> (-8.0296, -2.9576) projected
  line L1 (-8.0296, -2.9576) -> (-8.0296, 11.8541) projected
  line L2 (-8.0296, 11.8541) -> (9.9674, 11.8541) projected
  arc A1 (9.9704, 11.8244) -> (9.9674, 11.8541) centre (12.8292, 12.1297) ccw projected
  line L3 (9.9704, 11.8244) -> (9.9704, -2.9576) projected
  circle A2 centre (-7.8502, -6.7996) radius 2.875 projected
  line L4 (-11.4796, 8.9797) -> (-11.4796, -53.7279) projected
  line L5 (13.4189, -53.7279) -> (-11.4796, -53.7279) projected
  line L6 (13.4189, -13.7279) -> (13.4189, -53.7279) projected
  line L7 (13.4189, -13.7279) -> (21.5204, -13.7279) projected
  line L8 (21.5204, -13.7279) -> (21.5204, 26.2721) projected
  line L9 (21.5204, 26.2721) -> (-11.4796, 26.2721) projected
  line L10 (-11.4796, 26.2721) -> (-11.4796, 11.2944) projected
  line L11 (-11.4796, 11.2944) -> (-11.5208, 11.2531) projected
  line L12 (-11.5208, 11.2531) -> (-11.5208, 8.9797) projected
  line L13 (-11.5208, 8.9797) -> (-11.4796, 8.9797) projected
  circle A3 centre (14.9792, -12.5703) radius 0.9 projected
  circle A4 centre (-12.0208, -13.4394) radius 0.9 projected
  circle A5 centre (14.9792, -12.5703) radius 2
  circle A6 centre (-12.0208, -13.4394) radius 2
  circle A7 centre (3.6792, 33.2797) radius 2
  point P0 (0.9792, -158.7453)
  dimension "d63" = 4
  dimension "d64" = 4
  dimension "d65" = 4
ref_plane "Work Plane20" through (-74.5, 162.725, -23.9) normal (-1, 0, 0) x (0, 0, 1)
extrude "Extrusion19" add sketch "Sketch20" along normal up to surface (2.6 mm away) contours A6 L4 A4 | L4 A4 A6 | A5 L7 L6 | L6 L7 A5 | A7
sketch "Sketch21" plane through (-74.5, 192.025, -2.7) normal (1, 0, 0) x (0, 0, -1)
  circle A0 centre (0, 0) radius 0.9 projected
  line L0 (-7.1, -0.5) -> (-7.1, 2) projected
  line L1 (-5.6, -0.5) -> (-7.1, -0.5) projected
  line L2 (-5.6, -2) -> (-5.6, -0.5) projected
  line L3 (2, -2) -> (-5.6, -2) projected
  line L4 (2, 2) -> (2, -2) projected
  line L5 (-7.1, 2) -> (2, 2) projected
  circle A1 centre (0, 0) radius 2 projected
  circle A2 centre (0, 0) radius 0.9 projected
  point P0 (-2.7, -192.025)
ref_plane "Work Plane21" through (-73.6, 179.225, -12.7) normal (-1, 0, 0) x (0, 0, 1)
extrude "Extrusion20" add sketch "Sketch21" along normal up to surface (0.9 mm away) contours A1
sketch "Sketch22" plane through (-87, 111.025, -13.9) normal (0, 0, 1) x (1, 0, 0)
  line L0 (35.0983, -24.8953) -> (30.0983, -24.8953) projected
  line L1 (30.0983, -24.8953) -> (30.0983, 24.7788) projected
  line L2 (30.0983, 24.7788) -> (35.0983, 24.7788) projected
  line L3 (35.0983, 24.7788) -> (35.0983, -24.8953) projected
  circle A0 centre (5.1, 19.9) radius 1.45 projected
  circle A1 centre (-5.1, 19.9) radius 1.45 projected
  circle A2 centre (-44.9, -19.9) radius 1.45 projected
  circle A3 centre (-44.9, 19.9) radius 1.45 projected
  line L4 (41.5, -12.498) -> (41.5, -13.4306) projected
  line L5 (41.5, -13.4306) -> (39.4492, -13.4306) projected
  line L6 (39.4492, -13.4306) -> (39.4492, 12.9725) projected
  line L7 (39.4492, 12.9725) -> (41.5, 12.9725) projected
  line L8 (41.5, 12.9725) -> (41.5, 12.532) projected
  line L9 (41.5, 12.532) -> (44.9, 12.532) projected
  line L10 (44.9, 12.532) -> (44.9, 18.45) projected
  arc A4 (44.9, 21.35) -> (44.9, 18.45) centre (44.9, 19.9) ccw projected
  line L11 (44.9, 21.35) -> (44.9, 23.4909) projected
  line L12 (44.9, 23.4909) -> (49.8107, 23.4909) projected
  arc A5 (49.8107, 23.4909) -> (47.9, 24.9) centre (47.9, 22.9) ccw projected
  line L13 (47.9, 24.9) -> (-47.9, 24.9) projected
  arc A6 (-47.9, 24.9) -> (-49.9, 22.9) centre (-47.9, 22.9) ccw projected
  line L14 (-49.9, 22.9) -> (-49.9, -22.9) projected
  arc A7 (-49.9, -22.9) -> (-47.9, -24.9) centre (-47.9, -22.9) ccw projected
  line L15 (-47.9, -24.9) -> (-12.2938, -24.9) projected
  line L16 (-12.2938, -24.9) -> (-12.2938, -15.8578) projected
  line L17 (-12.2938, -15.8578) -> (9.9, -15.8578) projected
  line L18 (9.9, -15.8578) -> (9.9, -24.9) projected
  line L19 (9.9, -24.9) -> (47.9, -24.9) projected
  arc A8 (47.9, -24.9) -> (49.8107, -23.4909) centre (47.9, -22.9) ccw projected
  line L20 (49.8107, -23.4909) -> (44.9, -23.4909) projected
  line L21 (44.9, -23.4909) -> (44.9, -21.35) projected
  arc A9 (44.9, -18.45) -> (44.9, -21.35) centre (44.9, -19.9) ccw projected
  line L22 (44.9, -18.45) -> (44.9, -12.498) projected
  line L23 (44.9, -12.498) -> (41.5, -12.498) projected
  line L24 (-18.4513, 24.9) -> (-23.4513, 24.9)
  line L25 (-23.4513, 24.9) -> (-23.4513, 0)
  line L26 (-23.4513, 0) -> (-18.4513, 0)
  line L27 (-18.4513, 0) -> (-18.4513, 24.9)
  line L28 (-49.9, 22.9) -> (-49.9, -22.9) projected
  line L29 (-23.4513, 24.9) -> (-49.9, 24.9)
  line L30 (-49.9, 24.9) -> (-49.9, 17.9)
  line L31 (-49.9, 17.9) -> (-23.4513, 17.9)
  line L32 (-23.4513, 17.9) -> (-23.4513, 24.9)
  point P0 (87, -111.025)
  dimension "d70" = 5
  dimension "d71" = 24.9
  dimension "d72" = 7
extrude "Extrusion21" add sketch "Sketch22" along normal blind 15 contours L27 L26 L25 L13 | L25 L31 L14 A6 L13 | A6 L30 L29
sketch "Sketch23" plane through (-110.4513, 111.025, -13.9) normal (-1, 0, 0) x (0, 0, 1)
  line L0 (15, 17.9) -> (0, 17.9) projected
  line L1 (0, 0) -> (0, 17.9) projected
  line L2 (0, 0) -> (15, 0) projected
  line L3 (15, 17.9) -> (15, 0) projected
  circle A0 centre (11.1856, 4.9118) radius 1.4
  point P0 (13.9, -111.025)
  dimension "d75" = 2.8
extrude "Extrusion22" cut sketch "Sketch23" against normal up to surface (11.1575 mm away) contours A0
fillet "Fillet2" radius 2 3 edges at (-107.9513, 111.025, 1.1) (-107.9513, 111.025, -13.9) (-110.4513, 128.925, -6.4)
properties part number "30_Cube_XYZ_Stage_micrometer"
